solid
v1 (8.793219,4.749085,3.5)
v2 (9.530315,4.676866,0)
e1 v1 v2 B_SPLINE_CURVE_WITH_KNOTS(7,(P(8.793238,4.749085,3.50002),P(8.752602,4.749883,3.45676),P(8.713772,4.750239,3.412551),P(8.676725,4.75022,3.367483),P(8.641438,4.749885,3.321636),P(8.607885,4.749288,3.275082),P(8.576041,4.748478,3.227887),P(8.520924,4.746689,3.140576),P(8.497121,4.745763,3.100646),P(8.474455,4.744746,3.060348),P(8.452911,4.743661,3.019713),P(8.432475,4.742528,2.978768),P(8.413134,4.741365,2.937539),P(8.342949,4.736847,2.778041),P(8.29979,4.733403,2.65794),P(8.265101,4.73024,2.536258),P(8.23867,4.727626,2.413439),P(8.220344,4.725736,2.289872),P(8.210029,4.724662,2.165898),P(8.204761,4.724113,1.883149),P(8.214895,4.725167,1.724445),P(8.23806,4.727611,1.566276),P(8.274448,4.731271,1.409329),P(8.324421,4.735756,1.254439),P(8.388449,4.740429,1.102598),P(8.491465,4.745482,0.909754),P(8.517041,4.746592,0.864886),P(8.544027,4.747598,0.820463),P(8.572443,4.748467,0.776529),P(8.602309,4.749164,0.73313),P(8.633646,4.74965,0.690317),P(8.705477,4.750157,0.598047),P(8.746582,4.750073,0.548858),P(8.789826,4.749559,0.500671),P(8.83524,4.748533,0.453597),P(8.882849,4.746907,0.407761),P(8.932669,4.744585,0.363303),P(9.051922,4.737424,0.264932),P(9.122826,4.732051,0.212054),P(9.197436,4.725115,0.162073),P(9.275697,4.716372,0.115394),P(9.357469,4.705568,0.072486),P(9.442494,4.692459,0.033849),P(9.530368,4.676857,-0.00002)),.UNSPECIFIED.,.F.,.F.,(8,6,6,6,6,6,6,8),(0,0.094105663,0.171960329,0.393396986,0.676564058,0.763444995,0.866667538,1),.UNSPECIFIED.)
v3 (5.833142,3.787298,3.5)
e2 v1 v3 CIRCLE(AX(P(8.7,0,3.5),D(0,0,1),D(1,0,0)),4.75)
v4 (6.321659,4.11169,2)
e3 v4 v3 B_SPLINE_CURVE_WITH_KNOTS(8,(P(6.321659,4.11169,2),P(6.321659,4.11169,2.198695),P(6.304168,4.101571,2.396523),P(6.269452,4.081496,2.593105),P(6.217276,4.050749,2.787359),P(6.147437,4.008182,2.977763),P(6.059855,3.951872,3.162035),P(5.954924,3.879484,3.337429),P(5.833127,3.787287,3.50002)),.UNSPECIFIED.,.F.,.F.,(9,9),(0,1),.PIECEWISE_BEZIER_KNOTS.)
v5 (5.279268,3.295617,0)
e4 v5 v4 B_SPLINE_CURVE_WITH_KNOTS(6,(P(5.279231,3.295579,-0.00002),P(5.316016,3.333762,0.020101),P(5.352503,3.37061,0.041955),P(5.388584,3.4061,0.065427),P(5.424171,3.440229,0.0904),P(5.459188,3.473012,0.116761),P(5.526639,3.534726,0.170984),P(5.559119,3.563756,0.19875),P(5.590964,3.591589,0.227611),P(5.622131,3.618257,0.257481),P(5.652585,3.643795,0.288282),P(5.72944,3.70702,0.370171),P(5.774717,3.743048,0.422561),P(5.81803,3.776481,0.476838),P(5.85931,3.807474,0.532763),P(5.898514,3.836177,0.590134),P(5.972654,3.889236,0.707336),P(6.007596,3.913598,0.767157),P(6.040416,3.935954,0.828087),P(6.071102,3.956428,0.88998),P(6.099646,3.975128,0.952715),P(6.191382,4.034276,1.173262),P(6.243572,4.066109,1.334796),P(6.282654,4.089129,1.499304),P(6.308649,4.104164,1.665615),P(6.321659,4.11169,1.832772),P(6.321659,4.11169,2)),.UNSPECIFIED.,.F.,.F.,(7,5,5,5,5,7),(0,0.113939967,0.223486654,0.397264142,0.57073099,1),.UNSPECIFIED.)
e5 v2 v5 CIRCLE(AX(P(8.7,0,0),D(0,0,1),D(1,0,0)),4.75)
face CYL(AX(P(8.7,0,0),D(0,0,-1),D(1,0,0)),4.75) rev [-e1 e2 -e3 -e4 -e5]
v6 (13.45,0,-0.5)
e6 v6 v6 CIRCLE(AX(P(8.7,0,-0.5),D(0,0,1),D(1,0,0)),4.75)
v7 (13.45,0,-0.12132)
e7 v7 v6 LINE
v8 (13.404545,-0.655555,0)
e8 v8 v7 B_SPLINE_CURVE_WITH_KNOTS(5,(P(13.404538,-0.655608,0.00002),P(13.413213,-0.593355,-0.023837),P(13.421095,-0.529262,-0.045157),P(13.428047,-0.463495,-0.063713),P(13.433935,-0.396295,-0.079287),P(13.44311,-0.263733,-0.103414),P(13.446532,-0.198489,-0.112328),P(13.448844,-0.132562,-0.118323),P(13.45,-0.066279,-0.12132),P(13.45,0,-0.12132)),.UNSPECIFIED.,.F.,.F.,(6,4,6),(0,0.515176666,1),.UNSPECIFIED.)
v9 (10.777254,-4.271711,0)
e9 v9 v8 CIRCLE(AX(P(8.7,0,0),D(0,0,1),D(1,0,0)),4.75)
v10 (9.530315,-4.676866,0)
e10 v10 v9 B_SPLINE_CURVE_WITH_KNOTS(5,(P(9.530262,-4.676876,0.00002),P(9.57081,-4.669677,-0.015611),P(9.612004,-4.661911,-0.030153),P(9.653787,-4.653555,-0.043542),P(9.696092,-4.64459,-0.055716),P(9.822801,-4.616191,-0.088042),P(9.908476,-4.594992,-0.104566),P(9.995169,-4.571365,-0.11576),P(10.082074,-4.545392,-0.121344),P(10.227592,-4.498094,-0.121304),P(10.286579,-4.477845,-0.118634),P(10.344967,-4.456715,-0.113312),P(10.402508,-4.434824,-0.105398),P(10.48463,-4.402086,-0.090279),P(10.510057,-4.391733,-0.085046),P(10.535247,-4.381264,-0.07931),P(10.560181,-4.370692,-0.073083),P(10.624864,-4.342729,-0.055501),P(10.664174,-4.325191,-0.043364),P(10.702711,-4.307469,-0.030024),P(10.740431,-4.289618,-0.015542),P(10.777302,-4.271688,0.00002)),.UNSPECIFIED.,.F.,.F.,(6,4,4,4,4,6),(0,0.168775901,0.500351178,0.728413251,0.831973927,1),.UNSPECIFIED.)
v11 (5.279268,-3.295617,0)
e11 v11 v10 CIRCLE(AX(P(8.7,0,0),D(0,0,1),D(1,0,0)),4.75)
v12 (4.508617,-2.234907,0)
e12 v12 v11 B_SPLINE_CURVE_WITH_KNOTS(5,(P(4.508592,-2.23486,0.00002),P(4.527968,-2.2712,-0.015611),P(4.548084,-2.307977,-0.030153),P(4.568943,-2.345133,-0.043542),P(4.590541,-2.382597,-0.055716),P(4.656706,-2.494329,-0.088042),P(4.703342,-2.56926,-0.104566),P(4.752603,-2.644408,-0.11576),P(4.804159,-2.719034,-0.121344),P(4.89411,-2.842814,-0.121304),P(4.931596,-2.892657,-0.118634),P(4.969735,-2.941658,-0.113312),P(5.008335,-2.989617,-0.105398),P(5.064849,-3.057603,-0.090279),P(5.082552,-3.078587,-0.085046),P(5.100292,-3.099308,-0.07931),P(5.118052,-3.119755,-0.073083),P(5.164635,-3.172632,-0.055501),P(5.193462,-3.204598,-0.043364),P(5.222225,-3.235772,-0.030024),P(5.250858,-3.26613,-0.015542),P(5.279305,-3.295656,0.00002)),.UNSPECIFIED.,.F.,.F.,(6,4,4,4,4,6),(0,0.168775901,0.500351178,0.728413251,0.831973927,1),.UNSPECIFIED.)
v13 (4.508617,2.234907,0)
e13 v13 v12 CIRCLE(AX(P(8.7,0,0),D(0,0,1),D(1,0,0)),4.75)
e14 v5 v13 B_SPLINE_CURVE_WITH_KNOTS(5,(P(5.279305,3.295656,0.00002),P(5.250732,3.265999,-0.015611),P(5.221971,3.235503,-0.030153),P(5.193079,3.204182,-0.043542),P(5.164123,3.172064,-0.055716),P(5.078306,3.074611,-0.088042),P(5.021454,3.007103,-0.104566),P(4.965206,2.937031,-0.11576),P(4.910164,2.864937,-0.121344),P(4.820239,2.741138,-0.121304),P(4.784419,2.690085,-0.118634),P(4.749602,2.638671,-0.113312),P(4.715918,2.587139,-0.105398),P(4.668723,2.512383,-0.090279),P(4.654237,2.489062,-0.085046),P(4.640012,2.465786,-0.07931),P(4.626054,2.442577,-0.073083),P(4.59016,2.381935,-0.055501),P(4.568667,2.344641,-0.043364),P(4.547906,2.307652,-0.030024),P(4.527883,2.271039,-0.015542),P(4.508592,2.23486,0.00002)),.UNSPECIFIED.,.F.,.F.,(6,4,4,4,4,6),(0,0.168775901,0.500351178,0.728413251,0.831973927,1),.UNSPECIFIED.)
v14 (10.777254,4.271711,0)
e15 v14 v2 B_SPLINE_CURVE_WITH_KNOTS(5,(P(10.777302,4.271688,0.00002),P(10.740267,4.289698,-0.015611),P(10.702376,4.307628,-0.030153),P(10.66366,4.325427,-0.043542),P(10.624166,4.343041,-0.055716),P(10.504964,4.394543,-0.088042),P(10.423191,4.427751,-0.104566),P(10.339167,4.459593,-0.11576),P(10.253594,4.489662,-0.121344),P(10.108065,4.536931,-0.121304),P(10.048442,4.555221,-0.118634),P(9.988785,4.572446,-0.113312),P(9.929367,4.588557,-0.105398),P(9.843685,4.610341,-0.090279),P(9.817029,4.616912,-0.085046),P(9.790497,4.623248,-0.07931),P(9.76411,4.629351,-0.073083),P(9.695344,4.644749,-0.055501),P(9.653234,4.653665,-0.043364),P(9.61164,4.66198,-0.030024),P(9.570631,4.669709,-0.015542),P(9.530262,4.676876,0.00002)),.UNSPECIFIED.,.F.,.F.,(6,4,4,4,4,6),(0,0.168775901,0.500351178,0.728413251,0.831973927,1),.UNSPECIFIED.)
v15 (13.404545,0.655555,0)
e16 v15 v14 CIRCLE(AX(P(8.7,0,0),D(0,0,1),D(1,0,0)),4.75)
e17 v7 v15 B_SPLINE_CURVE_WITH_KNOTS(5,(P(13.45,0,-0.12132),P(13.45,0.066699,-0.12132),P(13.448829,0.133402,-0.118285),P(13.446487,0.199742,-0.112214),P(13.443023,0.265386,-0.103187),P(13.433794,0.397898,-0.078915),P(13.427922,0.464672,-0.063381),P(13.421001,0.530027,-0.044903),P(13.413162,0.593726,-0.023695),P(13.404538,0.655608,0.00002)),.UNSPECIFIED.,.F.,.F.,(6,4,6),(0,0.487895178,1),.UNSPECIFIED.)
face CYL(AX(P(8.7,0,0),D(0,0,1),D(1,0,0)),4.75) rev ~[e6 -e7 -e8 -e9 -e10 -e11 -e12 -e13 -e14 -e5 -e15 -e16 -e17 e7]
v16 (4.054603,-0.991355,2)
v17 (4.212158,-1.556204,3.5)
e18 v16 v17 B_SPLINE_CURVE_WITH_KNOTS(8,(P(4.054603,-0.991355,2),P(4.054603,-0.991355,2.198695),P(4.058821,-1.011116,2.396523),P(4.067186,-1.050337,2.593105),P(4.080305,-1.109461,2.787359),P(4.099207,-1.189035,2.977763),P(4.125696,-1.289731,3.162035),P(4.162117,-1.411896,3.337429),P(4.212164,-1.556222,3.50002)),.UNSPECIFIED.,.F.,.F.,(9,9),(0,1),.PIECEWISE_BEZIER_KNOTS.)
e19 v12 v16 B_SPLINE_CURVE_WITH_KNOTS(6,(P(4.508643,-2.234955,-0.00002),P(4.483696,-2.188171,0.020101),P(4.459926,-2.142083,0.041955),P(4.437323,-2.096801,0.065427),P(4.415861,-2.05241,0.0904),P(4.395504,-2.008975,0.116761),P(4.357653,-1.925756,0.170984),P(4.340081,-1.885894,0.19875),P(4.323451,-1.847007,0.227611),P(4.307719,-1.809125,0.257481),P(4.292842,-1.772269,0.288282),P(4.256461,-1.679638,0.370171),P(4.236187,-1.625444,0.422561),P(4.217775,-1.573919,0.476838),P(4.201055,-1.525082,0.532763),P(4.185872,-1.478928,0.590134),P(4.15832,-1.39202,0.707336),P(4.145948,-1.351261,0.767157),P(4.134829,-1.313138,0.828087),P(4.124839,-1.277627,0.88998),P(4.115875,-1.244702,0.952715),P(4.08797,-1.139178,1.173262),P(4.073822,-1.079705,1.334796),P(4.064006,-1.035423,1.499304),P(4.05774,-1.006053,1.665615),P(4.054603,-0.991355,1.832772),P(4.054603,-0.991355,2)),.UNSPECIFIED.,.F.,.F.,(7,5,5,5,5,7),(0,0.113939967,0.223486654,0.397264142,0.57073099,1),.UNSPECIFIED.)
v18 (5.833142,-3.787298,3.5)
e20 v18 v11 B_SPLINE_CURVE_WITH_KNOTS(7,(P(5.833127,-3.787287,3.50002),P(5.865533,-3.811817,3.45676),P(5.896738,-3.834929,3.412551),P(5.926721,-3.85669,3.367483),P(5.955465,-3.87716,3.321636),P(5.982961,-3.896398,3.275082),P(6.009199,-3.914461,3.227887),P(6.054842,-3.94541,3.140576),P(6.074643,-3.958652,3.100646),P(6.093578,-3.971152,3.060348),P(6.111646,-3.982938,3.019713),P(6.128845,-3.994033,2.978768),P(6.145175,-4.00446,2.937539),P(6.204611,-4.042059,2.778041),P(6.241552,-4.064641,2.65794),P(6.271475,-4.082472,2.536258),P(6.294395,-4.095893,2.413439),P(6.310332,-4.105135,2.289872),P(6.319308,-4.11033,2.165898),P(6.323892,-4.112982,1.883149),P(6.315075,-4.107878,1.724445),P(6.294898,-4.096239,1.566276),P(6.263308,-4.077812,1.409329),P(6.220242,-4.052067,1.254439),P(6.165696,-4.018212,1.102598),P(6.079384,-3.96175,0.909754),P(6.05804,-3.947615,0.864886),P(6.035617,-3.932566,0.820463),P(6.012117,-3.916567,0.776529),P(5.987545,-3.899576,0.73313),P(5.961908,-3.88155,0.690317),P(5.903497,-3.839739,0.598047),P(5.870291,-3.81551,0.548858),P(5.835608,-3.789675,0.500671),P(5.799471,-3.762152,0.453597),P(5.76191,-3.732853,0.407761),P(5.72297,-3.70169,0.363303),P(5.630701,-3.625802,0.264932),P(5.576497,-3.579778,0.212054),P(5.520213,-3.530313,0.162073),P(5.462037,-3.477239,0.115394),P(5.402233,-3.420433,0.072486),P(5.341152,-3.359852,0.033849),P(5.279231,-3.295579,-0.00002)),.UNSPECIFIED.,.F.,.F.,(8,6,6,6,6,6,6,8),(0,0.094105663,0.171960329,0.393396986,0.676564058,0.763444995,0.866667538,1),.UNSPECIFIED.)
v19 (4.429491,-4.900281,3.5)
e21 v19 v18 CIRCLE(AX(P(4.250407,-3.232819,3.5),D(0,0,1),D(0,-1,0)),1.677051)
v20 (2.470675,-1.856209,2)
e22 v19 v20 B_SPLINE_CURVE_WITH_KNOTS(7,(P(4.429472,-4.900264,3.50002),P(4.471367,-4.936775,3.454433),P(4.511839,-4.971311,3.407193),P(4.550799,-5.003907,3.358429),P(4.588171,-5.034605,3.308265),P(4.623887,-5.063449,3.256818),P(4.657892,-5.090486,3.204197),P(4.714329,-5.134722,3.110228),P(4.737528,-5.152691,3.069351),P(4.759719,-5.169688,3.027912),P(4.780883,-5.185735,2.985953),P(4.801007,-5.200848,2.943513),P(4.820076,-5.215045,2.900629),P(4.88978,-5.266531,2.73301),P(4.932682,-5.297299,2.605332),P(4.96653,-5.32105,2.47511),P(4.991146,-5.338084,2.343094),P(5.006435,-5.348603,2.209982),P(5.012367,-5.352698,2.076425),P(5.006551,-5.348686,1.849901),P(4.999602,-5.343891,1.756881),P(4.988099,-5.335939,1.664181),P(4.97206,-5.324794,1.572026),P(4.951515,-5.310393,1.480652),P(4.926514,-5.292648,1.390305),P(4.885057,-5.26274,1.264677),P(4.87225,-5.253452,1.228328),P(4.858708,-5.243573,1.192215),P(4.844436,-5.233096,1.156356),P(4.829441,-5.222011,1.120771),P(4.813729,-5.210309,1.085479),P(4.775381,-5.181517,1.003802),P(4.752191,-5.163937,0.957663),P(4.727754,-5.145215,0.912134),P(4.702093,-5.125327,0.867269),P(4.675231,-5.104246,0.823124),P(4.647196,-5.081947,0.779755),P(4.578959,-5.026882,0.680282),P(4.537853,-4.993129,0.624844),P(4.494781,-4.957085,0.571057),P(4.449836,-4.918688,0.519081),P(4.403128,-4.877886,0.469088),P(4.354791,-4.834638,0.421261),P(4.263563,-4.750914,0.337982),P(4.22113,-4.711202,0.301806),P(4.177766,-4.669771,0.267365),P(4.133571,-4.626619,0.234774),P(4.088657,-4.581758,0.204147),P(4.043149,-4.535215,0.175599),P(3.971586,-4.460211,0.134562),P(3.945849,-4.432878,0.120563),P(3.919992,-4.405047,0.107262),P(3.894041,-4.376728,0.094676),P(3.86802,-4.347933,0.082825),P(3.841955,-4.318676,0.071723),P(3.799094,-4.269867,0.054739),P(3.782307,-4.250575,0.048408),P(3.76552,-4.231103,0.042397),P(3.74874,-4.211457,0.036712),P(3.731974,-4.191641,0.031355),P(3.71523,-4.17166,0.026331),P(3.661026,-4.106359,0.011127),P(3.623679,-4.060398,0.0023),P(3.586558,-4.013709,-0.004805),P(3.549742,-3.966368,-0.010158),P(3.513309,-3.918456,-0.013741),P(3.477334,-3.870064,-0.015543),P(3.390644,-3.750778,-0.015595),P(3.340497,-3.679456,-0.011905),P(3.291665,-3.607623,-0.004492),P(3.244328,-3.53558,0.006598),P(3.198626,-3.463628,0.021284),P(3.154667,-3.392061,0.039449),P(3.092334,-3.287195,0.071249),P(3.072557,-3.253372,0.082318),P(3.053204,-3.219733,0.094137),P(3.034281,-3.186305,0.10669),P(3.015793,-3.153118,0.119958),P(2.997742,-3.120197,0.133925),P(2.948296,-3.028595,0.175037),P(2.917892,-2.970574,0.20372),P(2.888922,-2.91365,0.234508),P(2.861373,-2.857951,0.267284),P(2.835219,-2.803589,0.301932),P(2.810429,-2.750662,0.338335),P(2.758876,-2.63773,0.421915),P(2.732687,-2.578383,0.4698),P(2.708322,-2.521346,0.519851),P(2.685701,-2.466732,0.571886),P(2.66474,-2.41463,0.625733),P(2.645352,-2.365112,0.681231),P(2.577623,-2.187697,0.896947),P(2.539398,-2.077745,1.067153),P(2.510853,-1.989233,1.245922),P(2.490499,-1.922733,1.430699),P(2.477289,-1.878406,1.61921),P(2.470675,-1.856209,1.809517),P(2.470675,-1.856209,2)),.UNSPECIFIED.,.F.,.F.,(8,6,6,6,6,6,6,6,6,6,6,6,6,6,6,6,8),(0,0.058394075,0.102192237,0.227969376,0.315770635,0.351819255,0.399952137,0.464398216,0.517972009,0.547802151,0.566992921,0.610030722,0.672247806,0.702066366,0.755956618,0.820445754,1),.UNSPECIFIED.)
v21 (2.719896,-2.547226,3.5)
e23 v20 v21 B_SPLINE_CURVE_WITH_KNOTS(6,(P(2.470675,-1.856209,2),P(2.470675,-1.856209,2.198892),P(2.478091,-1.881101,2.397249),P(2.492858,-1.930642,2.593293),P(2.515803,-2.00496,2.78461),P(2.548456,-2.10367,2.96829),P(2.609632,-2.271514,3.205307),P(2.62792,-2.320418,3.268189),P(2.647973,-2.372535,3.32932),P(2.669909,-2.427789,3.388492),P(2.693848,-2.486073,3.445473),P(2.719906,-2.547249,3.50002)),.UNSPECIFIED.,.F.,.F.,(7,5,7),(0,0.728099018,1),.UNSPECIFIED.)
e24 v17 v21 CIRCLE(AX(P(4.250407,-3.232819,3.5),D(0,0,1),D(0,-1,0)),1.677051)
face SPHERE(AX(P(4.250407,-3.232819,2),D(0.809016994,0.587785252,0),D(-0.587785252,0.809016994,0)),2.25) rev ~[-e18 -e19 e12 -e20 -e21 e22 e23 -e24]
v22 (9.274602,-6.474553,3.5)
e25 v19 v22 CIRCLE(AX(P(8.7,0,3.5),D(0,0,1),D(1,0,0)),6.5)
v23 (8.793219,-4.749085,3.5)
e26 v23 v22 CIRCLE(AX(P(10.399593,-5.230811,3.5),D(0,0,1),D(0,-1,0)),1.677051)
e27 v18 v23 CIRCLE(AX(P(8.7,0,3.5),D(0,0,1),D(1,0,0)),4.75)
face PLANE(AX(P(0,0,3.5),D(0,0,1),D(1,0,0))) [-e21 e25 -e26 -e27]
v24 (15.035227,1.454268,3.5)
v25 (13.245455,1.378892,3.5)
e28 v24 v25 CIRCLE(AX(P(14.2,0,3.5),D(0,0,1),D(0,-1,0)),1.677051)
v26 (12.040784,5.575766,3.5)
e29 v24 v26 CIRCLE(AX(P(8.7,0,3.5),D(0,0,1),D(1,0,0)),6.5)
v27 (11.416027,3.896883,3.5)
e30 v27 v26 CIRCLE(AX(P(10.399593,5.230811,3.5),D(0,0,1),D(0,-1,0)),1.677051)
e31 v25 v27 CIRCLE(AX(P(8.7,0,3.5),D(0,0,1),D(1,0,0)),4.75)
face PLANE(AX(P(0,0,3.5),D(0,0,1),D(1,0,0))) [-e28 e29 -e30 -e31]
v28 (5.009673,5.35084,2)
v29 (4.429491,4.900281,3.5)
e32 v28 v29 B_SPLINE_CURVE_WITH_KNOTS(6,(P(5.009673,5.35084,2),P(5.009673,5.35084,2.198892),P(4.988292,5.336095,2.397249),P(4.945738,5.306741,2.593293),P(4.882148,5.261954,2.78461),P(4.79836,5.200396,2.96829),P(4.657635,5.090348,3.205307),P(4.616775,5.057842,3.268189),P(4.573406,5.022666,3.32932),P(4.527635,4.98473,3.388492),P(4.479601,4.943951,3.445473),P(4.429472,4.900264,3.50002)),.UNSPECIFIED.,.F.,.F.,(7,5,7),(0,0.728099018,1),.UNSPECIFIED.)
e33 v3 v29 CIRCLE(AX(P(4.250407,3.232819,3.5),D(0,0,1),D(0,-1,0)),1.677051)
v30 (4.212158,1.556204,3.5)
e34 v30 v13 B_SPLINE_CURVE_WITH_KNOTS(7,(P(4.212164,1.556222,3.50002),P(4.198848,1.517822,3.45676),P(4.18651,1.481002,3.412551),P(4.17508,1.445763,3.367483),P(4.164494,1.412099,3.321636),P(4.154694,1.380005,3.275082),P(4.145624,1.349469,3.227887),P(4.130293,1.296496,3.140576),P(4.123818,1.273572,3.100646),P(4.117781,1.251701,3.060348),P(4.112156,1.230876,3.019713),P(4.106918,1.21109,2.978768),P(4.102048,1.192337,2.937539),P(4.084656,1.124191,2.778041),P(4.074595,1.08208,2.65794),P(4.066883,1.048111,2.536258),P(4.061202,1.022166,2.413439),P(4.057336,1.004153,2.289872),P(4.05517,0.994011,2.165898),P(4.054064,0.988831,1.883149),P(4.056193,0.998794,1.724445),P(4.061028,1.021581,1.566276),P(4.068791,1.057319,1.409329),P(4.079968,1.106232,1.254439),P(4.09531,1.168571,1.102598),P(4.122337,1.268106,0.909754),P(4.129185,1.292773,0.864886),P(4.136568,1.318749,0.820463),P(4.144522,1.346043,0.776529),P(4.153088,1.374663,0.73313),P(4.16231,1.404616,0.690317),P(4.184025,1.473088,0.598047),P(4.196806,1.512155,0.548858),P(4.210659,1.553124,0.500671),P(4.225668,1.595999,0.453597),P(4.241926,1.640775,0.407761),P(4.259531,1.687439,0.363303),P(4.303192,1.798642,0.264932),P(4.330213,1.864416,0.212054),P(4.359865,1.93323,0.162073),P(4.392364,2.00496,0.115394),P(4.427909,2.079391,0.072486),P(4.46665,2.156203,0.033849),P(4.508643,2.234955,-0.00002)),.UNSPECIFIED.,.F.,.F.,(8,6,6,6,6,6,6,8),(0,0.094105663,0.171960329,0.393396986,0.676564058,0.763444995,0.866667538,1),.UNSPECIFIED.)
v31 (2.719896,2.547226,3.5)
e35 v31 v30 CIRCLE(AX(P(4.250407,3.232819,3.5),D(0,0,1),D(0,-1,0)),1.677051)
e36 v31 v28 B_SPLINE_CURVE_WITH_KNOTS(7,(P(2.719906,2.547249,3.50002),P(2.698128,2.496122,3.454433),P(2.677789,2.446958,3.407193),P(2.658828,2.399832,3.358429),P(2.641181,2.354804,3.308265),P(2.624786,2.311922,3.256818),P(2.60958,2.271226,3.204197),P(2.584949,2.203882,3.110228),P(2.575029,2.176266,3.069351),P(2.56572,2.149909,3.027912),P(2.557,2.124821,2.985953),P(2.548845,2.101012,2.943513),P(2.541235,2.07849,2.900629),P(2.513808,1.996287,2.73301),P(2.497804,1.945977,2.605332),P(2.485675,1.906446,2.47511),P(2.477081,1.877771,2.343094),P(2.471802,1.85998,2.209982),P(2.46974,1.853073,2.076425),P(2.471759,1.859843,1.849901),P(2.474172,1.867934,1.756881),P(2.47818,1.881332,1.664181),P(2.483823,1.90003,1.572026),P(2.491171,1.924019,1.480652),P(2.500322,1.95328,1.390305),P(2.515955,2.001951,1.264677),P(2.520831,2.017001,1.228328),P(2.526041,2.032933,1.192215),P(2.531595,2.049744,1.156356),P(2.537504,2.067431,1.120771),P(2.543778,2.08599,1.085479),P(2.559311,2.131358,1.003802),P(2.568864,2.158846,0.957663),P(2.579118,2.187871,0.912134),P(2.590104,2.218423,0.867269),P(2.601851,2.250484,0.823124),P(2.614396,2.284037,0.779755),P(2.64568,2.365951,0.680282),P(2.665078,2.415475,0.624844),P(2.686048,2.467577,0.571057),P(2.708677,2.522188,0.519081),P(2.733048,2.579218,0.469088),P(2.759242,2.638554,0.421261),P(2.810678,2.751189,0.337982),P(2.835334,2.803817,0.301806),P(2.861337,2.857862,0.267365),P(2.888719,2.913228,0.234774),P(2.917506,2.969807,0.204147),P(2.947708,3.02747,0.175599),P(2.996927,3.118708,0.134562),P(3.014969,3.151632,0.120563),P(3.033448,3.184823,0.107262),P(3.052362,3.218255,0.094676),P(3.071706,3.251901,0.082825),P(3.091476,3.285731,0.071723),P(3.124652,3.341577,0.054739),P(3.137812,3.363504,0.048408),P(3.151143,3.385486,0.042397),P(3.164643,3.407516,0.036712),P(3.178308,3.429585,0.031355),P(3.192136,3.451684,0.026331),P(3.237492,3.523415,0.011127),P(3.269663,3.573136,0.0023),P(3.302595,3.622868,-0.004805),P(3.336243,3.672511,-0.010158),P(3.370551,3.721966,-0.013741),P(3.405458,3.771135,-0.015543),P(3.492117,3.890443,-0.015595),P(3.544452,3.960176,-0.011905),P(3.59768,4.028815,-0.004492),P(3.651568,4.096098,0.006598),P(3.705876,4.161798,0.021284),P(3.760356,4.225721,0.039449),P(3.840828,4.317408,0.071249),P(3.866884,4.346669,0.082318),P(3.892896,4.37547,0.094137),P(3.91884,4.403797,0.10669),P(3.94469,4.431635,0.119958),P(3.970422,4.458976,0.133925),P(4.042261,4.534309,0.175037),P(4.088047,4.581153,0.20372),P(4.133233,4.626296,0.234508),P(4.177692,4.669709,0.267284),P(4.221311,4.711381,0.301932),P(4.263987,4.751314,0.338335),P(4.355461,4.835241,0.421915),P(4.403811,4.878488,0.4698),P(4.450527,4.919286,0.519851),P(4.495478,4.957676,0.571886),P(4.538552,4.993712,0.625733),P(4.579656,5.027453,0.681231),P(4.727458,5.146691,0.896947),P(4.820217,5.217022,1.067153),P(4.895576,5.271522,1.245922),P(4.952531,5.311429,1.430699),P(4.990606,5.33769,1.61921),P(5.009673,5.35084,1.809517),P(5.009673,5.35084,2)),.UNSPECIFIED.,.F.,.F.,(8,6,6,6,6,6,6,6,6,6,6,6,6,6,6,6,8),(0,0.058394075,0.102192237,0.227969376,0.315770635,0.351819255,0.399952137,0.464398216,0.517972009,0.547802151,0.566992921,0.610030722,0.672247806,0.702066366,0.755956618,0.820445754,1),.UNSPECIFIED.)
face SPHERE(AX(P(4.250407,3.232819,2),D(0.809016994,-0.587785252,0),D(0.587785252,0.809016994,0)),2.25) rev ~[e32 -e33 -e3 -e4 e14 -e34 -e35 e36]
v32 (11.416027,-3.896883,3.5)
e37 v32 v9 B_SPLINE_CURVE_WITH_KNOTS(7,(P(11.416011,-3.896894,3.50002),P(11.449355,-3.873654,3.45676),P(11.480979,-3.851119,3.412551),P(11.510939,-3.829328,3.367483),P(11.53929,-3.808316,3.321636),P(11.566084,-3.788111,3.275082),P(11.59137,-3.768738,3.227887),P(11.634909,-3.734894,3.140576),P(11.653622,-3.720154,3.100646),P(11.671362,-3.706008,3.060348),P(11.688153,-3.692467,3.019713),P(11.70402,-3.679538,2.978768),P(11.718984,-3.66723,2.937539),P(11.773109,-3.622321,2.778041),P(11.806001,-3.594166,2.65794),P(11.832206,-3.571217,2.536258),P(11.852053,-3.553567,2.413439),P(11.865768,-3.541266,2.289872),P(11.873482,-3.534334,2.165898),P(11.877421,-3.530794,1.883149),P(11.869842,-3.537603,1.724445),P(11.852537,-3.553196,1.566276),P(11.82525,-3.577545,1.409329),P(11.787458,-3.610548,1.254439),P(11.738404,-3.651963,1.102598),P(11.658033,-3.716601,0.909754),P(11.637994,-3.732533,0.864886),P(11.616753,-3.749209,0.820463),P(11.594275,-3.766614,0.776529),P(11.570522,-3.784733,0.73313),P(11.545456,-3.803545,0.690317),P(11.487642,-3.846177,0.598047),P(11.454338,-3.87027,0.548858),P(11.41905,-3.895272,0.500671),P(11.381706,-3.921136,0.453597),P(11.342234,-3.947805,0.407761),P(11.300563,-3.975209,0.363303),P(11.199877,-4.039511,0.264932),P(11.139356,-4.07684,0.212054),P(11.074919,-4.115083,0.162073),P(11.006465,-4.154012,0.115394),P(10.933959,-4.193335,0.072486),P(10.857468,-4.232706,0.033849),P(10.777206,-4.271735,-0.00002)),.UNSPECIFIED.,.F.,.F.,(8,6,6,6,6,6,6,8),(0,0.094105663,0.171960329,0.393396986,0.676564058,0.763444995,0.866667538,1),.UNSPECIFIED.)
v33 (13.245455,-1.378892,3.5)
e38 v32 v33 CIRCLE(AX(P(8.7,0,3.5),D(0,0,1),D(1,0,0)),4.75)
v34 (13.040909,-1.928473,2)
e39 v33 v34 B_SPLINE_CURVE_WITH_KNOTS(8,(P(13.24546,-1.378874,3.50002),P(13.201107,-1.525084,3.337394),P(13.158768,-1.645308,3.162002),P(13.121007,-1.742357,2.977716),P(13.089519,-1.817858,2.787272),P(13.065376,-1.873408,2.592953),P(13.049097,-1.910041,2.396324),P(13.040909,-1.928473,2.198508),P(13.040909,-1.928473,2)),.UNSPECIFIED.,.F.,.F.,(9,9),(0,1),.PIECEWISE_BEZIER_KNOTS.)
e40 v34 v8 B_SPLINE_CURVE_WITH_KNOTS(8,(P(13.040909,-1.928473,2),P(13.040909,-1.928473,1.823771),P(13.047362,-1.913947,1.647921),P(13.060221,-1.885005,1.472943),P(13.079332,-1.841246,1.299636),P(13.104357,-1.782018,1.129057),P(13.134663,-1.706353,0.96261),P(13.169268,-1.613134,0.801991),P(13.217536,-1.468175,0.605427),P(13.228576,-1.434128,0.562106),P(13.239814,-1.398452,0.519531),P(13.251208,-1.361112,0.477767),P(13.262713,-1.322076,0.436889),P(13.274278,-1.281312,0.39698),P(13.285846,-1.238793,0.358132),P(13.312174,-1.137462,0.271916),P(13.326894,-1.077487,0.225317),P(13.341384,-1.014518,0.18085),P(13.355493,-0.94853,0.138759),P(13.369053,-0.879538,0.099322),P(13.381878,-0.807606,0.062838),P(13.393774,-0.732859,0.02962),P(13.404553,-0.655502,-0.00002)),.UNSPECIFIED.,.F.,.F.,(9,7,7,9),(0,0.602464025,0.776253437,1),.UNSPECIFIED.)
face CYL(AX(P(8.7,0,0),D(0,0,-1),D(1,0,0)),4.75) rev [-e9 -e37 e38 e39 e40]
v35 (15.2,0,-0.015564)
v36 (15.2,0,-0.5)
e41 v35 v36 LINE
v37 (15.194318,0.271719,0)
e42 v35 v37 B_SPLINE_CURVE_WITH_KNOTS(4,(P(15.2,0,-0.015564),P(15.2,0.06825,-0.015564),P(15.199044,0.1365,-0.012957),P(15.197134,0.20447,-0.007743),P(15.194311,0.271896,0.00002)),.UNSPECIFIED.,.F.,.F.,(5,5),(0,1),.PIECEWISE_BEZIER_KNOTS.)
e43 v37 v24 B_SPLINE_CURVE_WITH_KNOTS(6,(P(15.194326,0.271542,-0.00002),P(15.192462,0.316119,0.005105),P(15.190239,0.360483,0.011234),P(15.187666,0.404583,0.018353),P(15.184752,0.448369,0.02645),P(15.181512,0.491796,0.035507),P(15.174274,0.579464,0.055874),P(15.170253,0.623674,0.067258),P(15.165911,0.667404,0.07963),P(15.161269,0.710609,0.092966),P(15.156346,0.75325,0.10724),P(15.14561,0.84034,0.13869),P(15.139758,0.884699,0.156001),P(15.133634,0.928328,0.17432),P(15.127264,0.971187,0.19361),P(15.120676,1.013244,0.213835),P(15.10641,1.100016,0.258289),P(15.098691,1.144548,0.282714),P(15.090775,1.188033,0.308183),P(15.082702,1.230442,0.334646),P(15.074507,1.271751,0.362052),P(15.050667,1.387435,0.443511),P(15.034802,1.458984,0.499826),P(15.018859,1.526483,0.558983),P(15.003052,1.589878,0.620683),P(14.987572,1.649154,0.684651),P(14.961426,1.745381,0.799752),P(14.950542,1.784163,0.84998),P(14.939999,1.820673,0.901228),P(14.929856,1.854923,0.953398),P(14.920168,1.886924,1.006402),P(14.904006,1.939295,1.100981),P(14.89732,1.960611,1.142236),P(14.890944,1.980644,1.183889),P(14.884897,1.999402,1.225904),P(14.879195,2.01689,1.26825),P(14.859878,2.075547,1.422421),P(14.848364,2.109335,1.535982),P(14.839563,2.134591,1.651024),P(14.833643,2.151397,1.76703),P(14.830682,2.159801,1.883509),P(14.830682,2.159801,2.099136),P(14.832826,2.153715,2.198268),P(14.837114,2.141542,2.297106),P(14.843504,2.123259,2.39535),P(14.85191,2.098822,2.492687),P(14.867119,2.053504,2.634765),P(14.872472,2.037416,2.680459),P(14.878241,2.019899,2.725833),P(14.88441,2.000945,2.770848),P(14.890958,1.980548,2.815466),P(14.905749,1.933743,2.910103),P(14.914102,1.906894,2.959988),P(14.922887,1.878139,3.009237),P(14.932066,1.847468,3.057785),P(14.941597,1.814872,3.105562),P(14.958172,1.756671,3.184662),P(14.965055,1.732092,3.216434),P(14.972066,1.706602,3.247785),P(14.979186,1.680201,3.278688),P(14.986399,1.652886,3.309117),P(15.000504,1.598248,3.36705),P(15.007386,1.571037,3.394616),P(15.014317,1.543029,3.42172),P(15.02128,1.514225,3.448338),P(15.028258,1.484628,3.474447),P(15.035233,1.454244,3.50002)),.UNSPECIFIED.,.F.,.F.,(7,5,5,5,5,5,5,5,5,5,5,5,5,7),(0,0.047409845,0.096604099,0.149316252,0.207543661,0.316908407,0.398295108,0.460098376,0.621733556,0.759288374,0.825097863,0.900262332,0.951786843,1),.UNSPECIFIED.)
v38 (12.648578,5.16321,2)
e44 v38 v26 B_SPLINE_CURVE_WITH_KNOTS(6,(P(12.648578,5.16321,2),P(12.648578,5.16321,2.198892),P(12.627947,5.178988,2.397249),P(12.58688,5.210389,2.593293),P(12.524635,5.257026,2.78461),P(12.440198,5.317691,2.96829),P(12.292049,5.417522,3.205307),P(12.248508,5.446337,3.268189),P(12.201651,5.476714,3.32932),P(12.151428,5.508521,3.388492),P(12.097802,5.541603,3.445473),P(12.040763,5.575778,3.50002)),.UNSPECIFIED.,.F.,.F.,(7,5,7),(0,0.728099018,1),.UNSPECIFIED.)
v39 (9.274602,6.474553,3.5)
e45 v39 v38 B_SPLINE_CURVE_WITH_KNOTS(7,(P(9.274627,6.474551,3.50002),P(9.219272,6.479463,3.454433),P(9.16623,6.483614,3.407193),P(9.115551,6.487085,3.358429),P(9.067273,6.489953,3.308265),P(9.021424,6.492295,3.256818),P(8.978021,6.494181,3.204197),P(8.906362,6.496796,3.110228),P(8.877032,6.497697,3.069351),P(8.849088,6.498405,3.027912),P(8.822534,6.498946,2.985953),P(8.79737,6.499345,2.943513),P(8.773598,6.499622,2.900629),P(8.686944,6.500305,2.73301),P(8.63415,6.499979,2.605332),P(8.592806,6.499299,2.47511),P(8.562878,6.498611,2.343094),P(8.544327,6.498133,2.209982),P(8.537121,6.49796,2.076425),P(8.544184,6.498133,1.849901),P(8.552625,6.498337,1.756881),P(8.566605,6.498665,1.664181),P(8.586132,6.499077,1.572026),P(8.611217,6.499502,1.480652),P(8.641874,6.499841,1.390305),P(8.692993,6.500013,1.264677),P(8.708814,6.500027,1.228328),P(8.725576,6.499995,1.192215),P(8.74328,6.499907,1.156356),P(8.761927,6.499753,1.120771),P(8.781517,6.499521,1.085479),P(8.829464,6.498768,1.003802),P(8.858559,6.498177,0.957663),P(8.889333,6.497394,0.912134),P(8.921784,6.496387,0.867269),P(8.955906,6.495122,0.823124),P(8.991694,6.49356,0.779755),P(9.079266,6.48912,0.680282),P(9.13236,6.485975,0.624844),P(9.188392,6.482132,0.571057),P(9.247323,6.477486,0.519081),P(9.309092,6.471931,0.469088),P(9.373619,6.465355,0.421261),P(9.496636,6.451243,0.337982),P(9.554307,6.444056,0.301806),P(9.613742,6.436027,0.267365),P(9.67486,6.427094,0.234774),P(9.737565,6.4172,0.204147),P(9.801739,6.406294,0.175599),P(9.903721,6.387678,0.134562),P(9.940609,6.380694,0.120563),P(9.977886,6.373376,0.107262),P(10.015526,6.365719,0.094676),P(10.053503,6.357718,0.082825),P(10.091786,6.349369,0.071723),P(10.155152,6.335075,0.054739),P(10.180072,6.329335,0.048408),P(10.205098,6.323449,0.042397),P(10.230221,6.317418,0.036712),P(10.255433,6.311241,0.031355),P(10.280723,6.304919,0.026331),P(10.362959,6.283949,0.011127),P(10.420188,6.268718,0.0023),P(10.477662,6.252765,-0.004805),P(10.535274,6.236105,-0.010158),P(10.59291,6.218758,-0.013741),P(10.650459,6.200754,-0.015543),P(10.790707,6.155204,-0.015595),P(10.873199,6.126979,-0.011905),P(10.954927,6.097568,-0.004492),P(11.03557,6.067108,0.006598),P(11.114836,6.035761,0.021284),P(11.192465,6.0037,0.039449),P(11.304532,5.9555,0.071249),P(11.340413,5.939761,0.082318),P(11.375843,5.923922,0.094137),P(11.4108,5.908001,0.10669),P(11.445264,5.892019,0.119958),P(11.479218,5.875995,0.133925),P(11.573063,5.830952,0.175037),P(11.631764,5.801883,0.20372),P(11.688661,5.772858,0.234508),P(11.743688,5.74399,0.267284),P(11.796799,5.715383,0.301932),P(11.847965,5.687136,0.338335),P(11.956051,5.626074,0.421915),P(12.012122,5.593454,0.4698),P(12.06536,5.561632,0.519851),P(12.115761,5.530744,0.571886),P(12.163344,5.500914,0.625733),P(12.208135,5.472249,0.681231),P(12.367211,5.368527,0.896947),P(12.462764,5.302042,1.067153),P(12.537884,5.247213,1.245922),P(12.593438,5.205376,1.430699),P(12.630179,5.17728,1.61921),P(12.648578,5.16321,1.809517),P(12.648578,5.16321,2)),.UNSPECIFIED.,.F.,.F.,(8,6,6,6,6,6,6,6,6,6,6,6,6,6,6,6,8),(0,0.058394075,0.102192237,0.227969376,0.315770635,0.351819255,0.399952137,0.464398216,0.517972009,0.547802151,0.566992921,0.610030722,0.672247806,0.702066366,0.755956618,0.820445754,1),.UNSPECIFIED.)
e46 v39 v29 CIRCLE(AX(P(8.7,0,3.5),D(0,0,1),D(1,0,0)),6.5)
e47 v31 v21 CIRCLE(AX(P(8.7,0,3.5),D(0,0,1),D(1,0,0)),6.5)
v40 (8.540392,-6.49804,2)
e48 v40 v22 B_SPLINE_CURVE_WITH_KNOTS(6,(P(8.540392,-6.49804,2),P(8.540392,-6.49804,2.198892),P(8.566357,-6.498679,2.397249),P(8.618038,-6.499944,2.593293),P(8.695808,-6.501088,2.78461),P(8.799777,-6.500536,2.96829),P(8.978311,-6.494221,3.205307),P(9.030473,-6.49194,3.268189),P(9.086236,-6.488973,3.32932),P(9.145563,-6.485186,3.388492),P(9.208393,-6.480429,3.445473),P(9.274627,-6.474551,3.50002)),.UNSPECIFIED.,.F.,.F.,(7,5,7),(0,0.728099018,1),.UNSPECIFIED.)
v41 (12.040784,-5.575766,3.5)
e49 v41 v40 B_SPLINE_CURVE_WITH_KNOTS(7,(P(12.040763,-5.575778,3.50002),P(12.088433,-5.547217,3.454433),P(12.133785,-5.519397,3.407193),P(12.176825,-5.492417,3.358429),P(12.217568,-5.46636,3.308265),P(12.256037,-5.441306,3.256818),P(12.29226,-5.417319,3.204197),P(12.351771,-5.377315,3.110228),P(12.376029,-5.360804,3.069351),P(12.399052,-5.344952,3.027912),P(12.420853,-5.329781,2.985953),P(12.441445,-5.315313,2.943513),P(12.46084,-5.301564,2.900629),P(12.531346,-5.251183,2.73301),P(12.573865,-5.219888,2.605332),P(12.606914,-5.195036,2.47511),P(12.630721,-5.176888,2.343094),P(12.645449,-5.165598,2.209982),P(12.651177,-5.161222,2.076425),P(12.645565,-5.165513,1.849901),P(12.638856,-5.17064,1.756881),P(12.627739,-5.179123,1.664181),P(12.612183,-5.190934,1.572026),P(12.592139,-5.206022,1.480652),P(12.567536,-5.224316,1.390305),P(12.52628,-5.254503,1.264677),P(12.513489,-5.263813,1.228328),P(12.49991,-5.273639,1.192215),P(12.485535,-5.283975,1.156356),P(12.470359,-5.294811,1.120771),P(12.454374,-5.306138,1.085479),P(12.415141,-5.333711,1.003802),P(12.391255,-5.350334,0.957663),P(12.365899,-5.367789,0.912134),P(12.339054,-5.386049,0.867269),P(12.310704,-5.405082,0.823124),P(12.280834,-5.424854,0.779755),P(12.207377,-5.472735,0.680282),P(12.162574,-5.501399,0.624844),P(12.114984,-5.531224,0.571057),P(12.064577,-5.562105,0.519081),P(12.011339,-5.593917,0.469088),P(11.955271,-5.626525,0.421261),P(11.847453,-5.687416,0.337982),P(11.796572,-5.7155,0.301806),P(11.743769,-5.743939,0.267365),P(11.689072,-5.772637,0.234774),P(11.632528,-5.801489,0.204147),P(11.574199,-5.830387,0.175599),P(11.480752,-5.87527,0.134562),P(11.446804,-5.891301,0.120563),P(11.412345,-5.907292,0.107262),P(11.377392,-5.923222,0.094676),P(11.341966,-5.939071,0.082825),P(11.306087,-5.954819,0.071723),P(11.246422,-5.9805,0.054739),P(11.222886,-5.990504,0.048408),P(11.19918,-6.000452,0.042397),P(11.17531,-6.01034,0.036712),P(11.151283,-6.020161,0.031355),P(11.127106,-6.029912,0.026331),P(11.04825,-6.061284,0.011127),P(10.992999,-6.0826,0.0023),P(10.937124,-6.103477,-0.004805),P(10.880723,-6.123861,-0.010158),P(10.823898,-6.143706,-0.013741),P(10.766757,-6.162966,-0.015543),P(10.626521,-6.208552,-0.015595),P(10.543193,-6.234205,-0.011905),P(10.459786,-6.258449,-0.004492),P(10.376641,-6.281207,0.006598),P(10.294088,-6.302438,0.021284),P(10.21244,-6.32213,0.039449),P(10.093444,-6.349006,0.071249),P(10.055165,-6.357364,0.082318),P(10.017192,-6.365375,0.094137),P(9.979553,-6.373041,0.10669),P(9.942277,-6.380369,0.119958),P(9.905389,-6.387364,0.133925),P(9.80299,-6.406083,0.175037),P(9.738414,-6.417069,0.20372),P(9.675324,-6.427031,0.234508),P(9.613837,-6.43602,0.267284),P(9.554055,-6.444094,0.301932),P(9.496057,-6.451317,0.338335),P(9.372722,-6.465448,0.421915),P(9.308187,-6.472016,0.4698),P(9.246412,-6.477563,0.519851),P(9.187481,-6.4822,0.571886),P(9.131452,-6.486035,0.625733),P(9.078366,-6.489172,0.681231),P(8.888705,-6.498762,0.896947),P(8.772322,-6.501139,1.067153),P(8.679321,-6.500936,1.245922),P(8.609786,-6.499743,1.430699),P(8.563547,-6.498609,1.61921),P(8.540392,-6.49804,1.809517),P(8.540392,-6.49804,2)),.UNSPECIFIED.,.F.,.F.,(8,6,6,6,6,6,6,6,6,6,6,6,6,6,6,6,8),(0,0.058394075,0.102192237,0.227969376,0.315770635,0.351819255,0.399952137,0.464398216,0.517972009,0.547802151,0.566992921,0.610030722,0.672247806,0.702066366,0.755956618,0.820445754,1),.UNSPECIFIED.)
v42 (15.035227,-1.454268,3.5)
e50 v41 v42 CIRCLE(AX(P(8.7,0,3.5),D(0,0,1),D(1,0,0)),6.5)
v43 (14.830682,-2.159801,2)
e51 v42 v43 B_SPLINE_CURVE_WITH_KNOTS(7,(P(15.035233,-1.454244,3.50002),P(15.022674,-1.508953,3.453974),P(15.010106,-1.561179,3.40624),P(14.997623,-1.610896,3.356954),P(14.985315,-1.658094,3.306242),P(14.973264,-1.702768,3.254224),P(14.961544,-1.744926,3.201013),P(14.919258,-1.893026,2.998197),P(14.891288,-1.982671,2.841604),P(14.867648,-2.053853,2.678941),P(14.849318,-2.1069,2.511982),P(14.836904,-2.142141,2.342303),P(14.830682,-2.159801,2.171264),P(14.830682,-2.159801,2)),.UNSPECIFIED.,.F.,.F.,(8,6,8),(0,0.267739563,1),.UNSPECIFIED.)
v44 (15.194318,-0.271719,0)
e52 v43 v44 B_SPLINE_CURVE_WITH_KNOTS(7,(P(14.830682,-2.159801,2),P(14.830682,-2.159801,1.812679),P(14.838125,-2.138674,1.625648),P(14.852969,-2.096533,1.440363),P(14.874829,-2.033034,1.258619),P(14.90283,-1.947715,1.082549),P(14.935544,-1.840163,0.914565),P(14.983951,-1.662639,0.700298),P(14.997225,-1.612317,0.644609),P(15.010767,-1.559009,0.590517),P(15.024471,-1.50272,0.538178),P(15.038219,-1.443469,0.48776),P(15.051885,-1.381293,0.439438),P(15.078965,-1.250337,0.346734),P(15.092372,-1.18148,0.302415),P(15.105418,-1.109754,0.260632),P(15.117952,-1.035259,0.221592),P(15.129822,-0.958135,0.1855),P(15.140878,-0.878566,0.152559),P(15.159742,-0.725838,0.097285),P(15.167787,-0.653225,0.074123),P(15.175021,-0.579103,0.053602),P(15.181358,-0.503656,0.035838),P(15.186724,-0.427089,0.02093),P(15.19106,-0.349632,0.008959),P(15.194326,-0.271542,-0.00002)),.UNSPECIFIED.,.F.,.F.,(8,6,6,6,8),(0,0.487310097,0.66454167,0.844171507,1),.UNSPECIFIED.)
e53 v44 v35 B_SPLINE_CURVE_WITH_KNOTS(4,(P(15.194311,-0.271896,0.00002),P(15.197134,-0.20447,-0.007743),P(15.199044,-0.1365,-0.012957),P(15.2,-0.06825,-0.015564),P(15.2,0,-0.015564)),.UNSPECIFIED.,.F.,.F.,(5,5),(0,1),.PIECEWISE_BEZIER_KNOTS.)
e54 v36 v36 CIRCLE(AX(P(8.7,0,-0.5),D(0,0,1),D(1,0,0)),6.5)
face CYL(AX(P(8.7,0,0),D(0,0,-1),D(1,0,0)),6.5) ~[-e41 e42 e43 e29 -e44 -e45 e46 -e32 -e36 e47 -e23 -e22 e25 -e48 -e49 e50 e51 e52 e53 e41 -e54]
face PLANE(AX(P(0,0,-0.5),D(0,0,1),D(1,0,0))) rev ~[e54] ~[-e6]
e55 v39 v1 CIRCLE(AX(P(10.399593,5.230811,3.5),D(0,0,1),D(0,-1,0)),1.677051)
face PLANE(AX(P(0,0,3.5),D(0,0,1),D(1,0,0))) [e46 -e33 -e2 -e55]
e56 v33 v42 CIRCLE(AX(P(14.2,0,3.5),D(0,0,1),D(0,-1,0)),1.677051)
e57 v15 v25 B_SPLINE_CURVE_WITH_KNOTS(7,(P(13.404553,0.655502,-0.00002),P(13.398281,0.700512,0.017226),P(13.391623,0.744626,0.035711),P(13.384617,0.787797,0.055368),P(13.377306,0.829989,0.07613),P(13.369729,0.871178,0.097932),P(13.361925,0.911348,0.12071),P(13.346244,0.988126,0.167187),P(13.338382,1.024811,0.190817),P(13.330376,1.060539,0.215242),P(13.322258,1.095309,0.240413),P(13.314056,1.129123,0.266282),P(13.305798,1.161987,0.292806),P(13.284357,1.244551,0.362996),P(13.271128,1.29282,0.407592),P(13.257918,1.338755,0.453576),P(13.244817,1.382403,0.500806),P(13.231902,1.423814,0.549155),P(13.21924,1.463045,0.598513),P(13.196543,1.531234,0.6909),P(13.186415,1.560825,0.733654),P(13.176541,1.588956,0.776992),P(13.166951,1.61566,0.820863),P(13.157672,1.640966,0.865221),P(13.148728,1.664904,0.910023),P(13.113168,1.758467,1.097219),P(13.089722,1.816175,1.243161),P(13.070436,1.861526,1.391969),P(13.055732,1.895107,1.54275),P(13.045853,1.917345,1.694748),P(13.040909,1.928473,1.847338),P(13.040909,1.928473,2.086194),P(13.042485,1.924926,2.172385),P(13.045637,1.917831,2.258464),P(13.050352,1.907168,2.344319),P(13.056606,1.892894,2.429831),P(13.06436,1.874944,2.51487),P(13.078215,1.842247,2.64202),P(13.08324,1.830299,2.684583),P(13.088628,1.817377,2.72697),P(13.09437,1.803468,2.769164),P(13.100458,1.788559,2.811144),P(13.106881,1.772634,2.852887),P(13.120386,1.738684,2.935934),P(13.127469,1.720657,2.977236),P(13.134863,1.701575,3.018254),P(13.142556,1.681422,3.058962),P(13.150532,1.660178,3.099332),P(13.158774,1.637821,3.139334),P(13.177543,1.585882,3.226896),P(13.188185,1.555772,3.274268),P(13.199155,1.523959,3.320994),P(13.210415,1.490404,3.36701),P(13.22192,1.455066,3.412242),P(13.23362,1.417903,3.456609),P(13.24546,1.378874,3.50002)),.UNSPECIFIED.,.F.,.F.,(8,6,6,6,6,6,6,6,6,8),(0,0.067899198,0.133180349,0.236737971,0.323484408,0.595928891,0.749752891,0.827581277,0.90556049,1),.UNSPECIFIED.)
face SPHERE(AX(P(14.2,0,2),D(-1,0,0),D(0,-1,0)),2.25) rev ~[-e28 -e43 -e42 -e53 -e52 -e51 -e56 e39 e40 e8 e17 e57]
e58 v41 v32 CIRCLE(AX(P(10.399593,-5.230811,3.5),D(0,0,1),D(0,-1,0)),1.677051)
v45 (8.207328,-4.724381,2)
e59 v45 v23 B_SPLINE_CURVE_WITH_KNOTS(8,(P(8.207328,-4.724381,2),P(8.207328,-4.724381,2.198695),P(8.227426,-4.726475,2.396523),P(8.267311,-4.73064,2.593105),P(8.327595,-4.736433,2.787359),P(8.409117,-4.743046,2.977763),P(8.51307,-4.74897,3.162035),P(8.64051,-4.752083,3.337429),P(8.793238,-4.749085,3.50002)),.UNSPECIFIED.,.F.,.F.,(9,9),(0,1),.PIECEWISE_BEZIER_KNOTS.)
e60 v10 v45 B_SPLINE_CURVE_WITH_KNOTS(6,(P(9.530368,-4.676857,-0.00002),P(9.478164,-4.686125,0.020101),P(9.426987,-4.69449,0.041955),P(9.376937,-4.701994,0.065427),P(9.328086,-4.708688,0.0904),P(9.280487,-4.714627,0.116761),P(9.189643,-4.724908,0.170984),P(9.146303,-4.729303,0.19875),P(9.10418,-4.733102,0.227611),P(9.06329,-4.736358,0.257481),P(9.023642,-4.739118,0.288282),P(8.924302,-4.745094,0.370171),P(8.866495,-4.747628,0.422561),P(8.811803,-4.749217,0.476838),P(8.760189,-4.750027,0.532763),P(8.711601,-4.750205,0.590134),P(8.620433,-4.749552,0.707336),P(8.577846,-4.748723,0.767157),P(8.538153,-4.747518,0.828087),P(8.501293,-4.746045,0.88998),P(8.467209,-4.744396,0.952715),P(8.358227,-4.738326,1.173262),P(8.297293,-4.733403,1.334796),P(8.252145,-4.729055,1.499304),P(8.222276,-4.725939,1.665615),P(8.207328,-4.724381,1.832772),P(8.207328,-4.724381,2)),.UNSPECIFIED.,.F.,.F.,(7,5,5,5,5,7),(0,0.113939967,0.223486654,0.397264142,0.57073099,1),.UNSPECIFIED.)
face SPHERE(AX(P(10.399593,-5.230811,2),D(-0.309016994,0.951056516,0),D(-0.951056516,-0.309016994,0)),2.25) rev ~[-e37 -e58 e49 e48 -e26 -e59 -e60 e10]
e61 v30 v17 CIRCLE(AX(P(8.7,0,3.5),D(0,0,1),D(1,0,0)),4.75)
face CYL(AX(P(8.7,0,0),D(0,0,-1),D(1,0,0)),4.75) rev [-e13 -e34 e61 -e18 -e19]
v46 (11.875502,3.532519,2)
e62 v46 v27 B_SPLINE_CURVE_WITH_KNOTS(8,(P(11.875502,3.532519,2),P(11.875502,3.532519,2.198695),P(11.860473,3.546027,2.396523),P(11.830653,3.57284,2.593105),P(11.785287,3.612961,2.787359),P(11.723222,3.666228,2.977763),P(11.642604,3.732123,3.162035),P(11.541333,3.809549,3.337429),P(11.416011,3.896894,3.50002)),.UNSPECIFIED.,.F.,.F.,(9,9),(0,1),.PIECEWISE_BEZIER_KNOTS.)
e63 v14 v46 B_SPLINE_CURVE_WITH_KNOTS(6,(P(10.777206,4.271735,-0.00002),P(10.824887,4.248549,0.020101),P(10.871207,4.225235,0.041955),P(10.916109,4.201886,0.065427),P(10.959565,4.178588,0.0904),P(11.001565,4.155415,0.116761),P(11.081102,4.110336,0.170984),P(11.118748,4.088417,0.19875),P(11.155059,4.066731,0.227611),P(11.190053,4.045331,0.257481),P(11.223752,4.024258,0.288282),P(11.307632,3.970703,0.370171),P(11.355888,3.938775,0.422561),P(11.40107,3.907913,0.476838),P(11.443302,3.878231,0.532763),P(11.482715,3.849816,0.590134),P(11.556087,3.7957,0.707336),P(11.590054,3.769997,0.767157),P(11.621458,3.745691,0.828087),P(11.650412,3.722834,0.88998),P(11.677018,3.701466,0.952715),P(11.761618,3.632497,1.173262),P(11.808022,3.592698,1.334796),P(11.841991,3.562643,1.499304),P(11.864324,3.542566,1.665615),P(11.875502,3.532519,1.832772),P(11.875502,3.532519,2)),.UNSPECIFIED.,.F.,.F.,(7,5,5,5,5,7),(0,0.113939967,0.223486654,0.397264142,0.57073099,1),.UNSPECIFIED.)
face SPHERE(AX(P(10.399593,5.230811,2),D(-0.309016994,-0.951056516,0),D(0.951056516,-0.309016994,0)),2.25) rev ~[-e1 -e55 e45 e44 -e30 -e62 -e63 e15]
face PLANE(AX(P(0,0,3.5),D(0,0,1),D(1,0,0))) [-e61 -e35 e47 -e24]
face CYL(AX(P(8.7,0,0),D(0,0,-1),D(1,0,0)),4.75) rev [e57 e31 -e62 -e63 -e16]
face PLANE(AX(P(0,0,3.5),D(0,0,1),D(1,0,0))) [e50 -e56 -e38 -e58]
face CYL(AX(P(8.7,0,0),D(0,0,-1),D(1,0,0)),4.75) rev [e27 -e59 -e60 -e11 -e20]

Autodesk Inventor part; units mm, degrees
ref_plane "YZ Plane" through (0, 0, 0) normal (1, 0, 0) x (0, 1, 0)
ref_plane "XZ Plane" through (0, 0, 0) normal (0, 1, 0) x (-1, 0, 0)
sketch "Sketch1" plane through (0, 0, 0) normal (0, 0, 1) x (1, 0, 0)
  circle A0 centre (8.7, 0) radius 3.375
  circle A1 centre (8.7, 0) radius 6.5
  circle A2 centre (8.7, 0) radius 4.75
  point P0 (0, 0)
  dimension "d0" = 13
  dimension "d1" = 9.5
extrude "Extrusion1" add sketch "Sketch1" along normal blind 3.5 and the other way blind 0.5 contours A1
ref_plane "Work Plane1" through (8.7, 0, 2) normal (0, 0, -1) x (-1, 0, 0)
sketch "Sketch2" plane through (8.7, 0, 2) normal (0, 0, -1) x (-1, 0, 0)
  circle A0 centre (0, 0) radius 6.5 projected
  circle A1 centre (0, 0) radius 4.75 projected
  circle A2 centre (0, 0) radius 5.5
  circle A3 centre (-5.5, 0) radius 2.25
  line L0 (-7.75, 0) -> (-3.25, 0)
  point P0 (8.7, 0)
  dimension "d5" = 11
  dimension "d6" = 4.5
revolve "Revolution1" cut sketch "Sketch2" angle 360 about axis through (16.45, 0, 2) along (-1, 0, 0) picked at (-6.8857, -0.4037) picked at (-5.7999, -1.7269) picked at (-5.2327, -0.251) picked at (-4.2505, -0.3733) contours A3 L0 A0 | A0 L0 A2 A3 | A2 L0 A1 A3 | A1 L0 A3
pattern_circular "Circular Pattern1" count 5 over 360 about axis through (8.7, 0, 3.5) along (0, 0, -1) of "Revolution1"
properties part number "Hex Bearing Spacer"
